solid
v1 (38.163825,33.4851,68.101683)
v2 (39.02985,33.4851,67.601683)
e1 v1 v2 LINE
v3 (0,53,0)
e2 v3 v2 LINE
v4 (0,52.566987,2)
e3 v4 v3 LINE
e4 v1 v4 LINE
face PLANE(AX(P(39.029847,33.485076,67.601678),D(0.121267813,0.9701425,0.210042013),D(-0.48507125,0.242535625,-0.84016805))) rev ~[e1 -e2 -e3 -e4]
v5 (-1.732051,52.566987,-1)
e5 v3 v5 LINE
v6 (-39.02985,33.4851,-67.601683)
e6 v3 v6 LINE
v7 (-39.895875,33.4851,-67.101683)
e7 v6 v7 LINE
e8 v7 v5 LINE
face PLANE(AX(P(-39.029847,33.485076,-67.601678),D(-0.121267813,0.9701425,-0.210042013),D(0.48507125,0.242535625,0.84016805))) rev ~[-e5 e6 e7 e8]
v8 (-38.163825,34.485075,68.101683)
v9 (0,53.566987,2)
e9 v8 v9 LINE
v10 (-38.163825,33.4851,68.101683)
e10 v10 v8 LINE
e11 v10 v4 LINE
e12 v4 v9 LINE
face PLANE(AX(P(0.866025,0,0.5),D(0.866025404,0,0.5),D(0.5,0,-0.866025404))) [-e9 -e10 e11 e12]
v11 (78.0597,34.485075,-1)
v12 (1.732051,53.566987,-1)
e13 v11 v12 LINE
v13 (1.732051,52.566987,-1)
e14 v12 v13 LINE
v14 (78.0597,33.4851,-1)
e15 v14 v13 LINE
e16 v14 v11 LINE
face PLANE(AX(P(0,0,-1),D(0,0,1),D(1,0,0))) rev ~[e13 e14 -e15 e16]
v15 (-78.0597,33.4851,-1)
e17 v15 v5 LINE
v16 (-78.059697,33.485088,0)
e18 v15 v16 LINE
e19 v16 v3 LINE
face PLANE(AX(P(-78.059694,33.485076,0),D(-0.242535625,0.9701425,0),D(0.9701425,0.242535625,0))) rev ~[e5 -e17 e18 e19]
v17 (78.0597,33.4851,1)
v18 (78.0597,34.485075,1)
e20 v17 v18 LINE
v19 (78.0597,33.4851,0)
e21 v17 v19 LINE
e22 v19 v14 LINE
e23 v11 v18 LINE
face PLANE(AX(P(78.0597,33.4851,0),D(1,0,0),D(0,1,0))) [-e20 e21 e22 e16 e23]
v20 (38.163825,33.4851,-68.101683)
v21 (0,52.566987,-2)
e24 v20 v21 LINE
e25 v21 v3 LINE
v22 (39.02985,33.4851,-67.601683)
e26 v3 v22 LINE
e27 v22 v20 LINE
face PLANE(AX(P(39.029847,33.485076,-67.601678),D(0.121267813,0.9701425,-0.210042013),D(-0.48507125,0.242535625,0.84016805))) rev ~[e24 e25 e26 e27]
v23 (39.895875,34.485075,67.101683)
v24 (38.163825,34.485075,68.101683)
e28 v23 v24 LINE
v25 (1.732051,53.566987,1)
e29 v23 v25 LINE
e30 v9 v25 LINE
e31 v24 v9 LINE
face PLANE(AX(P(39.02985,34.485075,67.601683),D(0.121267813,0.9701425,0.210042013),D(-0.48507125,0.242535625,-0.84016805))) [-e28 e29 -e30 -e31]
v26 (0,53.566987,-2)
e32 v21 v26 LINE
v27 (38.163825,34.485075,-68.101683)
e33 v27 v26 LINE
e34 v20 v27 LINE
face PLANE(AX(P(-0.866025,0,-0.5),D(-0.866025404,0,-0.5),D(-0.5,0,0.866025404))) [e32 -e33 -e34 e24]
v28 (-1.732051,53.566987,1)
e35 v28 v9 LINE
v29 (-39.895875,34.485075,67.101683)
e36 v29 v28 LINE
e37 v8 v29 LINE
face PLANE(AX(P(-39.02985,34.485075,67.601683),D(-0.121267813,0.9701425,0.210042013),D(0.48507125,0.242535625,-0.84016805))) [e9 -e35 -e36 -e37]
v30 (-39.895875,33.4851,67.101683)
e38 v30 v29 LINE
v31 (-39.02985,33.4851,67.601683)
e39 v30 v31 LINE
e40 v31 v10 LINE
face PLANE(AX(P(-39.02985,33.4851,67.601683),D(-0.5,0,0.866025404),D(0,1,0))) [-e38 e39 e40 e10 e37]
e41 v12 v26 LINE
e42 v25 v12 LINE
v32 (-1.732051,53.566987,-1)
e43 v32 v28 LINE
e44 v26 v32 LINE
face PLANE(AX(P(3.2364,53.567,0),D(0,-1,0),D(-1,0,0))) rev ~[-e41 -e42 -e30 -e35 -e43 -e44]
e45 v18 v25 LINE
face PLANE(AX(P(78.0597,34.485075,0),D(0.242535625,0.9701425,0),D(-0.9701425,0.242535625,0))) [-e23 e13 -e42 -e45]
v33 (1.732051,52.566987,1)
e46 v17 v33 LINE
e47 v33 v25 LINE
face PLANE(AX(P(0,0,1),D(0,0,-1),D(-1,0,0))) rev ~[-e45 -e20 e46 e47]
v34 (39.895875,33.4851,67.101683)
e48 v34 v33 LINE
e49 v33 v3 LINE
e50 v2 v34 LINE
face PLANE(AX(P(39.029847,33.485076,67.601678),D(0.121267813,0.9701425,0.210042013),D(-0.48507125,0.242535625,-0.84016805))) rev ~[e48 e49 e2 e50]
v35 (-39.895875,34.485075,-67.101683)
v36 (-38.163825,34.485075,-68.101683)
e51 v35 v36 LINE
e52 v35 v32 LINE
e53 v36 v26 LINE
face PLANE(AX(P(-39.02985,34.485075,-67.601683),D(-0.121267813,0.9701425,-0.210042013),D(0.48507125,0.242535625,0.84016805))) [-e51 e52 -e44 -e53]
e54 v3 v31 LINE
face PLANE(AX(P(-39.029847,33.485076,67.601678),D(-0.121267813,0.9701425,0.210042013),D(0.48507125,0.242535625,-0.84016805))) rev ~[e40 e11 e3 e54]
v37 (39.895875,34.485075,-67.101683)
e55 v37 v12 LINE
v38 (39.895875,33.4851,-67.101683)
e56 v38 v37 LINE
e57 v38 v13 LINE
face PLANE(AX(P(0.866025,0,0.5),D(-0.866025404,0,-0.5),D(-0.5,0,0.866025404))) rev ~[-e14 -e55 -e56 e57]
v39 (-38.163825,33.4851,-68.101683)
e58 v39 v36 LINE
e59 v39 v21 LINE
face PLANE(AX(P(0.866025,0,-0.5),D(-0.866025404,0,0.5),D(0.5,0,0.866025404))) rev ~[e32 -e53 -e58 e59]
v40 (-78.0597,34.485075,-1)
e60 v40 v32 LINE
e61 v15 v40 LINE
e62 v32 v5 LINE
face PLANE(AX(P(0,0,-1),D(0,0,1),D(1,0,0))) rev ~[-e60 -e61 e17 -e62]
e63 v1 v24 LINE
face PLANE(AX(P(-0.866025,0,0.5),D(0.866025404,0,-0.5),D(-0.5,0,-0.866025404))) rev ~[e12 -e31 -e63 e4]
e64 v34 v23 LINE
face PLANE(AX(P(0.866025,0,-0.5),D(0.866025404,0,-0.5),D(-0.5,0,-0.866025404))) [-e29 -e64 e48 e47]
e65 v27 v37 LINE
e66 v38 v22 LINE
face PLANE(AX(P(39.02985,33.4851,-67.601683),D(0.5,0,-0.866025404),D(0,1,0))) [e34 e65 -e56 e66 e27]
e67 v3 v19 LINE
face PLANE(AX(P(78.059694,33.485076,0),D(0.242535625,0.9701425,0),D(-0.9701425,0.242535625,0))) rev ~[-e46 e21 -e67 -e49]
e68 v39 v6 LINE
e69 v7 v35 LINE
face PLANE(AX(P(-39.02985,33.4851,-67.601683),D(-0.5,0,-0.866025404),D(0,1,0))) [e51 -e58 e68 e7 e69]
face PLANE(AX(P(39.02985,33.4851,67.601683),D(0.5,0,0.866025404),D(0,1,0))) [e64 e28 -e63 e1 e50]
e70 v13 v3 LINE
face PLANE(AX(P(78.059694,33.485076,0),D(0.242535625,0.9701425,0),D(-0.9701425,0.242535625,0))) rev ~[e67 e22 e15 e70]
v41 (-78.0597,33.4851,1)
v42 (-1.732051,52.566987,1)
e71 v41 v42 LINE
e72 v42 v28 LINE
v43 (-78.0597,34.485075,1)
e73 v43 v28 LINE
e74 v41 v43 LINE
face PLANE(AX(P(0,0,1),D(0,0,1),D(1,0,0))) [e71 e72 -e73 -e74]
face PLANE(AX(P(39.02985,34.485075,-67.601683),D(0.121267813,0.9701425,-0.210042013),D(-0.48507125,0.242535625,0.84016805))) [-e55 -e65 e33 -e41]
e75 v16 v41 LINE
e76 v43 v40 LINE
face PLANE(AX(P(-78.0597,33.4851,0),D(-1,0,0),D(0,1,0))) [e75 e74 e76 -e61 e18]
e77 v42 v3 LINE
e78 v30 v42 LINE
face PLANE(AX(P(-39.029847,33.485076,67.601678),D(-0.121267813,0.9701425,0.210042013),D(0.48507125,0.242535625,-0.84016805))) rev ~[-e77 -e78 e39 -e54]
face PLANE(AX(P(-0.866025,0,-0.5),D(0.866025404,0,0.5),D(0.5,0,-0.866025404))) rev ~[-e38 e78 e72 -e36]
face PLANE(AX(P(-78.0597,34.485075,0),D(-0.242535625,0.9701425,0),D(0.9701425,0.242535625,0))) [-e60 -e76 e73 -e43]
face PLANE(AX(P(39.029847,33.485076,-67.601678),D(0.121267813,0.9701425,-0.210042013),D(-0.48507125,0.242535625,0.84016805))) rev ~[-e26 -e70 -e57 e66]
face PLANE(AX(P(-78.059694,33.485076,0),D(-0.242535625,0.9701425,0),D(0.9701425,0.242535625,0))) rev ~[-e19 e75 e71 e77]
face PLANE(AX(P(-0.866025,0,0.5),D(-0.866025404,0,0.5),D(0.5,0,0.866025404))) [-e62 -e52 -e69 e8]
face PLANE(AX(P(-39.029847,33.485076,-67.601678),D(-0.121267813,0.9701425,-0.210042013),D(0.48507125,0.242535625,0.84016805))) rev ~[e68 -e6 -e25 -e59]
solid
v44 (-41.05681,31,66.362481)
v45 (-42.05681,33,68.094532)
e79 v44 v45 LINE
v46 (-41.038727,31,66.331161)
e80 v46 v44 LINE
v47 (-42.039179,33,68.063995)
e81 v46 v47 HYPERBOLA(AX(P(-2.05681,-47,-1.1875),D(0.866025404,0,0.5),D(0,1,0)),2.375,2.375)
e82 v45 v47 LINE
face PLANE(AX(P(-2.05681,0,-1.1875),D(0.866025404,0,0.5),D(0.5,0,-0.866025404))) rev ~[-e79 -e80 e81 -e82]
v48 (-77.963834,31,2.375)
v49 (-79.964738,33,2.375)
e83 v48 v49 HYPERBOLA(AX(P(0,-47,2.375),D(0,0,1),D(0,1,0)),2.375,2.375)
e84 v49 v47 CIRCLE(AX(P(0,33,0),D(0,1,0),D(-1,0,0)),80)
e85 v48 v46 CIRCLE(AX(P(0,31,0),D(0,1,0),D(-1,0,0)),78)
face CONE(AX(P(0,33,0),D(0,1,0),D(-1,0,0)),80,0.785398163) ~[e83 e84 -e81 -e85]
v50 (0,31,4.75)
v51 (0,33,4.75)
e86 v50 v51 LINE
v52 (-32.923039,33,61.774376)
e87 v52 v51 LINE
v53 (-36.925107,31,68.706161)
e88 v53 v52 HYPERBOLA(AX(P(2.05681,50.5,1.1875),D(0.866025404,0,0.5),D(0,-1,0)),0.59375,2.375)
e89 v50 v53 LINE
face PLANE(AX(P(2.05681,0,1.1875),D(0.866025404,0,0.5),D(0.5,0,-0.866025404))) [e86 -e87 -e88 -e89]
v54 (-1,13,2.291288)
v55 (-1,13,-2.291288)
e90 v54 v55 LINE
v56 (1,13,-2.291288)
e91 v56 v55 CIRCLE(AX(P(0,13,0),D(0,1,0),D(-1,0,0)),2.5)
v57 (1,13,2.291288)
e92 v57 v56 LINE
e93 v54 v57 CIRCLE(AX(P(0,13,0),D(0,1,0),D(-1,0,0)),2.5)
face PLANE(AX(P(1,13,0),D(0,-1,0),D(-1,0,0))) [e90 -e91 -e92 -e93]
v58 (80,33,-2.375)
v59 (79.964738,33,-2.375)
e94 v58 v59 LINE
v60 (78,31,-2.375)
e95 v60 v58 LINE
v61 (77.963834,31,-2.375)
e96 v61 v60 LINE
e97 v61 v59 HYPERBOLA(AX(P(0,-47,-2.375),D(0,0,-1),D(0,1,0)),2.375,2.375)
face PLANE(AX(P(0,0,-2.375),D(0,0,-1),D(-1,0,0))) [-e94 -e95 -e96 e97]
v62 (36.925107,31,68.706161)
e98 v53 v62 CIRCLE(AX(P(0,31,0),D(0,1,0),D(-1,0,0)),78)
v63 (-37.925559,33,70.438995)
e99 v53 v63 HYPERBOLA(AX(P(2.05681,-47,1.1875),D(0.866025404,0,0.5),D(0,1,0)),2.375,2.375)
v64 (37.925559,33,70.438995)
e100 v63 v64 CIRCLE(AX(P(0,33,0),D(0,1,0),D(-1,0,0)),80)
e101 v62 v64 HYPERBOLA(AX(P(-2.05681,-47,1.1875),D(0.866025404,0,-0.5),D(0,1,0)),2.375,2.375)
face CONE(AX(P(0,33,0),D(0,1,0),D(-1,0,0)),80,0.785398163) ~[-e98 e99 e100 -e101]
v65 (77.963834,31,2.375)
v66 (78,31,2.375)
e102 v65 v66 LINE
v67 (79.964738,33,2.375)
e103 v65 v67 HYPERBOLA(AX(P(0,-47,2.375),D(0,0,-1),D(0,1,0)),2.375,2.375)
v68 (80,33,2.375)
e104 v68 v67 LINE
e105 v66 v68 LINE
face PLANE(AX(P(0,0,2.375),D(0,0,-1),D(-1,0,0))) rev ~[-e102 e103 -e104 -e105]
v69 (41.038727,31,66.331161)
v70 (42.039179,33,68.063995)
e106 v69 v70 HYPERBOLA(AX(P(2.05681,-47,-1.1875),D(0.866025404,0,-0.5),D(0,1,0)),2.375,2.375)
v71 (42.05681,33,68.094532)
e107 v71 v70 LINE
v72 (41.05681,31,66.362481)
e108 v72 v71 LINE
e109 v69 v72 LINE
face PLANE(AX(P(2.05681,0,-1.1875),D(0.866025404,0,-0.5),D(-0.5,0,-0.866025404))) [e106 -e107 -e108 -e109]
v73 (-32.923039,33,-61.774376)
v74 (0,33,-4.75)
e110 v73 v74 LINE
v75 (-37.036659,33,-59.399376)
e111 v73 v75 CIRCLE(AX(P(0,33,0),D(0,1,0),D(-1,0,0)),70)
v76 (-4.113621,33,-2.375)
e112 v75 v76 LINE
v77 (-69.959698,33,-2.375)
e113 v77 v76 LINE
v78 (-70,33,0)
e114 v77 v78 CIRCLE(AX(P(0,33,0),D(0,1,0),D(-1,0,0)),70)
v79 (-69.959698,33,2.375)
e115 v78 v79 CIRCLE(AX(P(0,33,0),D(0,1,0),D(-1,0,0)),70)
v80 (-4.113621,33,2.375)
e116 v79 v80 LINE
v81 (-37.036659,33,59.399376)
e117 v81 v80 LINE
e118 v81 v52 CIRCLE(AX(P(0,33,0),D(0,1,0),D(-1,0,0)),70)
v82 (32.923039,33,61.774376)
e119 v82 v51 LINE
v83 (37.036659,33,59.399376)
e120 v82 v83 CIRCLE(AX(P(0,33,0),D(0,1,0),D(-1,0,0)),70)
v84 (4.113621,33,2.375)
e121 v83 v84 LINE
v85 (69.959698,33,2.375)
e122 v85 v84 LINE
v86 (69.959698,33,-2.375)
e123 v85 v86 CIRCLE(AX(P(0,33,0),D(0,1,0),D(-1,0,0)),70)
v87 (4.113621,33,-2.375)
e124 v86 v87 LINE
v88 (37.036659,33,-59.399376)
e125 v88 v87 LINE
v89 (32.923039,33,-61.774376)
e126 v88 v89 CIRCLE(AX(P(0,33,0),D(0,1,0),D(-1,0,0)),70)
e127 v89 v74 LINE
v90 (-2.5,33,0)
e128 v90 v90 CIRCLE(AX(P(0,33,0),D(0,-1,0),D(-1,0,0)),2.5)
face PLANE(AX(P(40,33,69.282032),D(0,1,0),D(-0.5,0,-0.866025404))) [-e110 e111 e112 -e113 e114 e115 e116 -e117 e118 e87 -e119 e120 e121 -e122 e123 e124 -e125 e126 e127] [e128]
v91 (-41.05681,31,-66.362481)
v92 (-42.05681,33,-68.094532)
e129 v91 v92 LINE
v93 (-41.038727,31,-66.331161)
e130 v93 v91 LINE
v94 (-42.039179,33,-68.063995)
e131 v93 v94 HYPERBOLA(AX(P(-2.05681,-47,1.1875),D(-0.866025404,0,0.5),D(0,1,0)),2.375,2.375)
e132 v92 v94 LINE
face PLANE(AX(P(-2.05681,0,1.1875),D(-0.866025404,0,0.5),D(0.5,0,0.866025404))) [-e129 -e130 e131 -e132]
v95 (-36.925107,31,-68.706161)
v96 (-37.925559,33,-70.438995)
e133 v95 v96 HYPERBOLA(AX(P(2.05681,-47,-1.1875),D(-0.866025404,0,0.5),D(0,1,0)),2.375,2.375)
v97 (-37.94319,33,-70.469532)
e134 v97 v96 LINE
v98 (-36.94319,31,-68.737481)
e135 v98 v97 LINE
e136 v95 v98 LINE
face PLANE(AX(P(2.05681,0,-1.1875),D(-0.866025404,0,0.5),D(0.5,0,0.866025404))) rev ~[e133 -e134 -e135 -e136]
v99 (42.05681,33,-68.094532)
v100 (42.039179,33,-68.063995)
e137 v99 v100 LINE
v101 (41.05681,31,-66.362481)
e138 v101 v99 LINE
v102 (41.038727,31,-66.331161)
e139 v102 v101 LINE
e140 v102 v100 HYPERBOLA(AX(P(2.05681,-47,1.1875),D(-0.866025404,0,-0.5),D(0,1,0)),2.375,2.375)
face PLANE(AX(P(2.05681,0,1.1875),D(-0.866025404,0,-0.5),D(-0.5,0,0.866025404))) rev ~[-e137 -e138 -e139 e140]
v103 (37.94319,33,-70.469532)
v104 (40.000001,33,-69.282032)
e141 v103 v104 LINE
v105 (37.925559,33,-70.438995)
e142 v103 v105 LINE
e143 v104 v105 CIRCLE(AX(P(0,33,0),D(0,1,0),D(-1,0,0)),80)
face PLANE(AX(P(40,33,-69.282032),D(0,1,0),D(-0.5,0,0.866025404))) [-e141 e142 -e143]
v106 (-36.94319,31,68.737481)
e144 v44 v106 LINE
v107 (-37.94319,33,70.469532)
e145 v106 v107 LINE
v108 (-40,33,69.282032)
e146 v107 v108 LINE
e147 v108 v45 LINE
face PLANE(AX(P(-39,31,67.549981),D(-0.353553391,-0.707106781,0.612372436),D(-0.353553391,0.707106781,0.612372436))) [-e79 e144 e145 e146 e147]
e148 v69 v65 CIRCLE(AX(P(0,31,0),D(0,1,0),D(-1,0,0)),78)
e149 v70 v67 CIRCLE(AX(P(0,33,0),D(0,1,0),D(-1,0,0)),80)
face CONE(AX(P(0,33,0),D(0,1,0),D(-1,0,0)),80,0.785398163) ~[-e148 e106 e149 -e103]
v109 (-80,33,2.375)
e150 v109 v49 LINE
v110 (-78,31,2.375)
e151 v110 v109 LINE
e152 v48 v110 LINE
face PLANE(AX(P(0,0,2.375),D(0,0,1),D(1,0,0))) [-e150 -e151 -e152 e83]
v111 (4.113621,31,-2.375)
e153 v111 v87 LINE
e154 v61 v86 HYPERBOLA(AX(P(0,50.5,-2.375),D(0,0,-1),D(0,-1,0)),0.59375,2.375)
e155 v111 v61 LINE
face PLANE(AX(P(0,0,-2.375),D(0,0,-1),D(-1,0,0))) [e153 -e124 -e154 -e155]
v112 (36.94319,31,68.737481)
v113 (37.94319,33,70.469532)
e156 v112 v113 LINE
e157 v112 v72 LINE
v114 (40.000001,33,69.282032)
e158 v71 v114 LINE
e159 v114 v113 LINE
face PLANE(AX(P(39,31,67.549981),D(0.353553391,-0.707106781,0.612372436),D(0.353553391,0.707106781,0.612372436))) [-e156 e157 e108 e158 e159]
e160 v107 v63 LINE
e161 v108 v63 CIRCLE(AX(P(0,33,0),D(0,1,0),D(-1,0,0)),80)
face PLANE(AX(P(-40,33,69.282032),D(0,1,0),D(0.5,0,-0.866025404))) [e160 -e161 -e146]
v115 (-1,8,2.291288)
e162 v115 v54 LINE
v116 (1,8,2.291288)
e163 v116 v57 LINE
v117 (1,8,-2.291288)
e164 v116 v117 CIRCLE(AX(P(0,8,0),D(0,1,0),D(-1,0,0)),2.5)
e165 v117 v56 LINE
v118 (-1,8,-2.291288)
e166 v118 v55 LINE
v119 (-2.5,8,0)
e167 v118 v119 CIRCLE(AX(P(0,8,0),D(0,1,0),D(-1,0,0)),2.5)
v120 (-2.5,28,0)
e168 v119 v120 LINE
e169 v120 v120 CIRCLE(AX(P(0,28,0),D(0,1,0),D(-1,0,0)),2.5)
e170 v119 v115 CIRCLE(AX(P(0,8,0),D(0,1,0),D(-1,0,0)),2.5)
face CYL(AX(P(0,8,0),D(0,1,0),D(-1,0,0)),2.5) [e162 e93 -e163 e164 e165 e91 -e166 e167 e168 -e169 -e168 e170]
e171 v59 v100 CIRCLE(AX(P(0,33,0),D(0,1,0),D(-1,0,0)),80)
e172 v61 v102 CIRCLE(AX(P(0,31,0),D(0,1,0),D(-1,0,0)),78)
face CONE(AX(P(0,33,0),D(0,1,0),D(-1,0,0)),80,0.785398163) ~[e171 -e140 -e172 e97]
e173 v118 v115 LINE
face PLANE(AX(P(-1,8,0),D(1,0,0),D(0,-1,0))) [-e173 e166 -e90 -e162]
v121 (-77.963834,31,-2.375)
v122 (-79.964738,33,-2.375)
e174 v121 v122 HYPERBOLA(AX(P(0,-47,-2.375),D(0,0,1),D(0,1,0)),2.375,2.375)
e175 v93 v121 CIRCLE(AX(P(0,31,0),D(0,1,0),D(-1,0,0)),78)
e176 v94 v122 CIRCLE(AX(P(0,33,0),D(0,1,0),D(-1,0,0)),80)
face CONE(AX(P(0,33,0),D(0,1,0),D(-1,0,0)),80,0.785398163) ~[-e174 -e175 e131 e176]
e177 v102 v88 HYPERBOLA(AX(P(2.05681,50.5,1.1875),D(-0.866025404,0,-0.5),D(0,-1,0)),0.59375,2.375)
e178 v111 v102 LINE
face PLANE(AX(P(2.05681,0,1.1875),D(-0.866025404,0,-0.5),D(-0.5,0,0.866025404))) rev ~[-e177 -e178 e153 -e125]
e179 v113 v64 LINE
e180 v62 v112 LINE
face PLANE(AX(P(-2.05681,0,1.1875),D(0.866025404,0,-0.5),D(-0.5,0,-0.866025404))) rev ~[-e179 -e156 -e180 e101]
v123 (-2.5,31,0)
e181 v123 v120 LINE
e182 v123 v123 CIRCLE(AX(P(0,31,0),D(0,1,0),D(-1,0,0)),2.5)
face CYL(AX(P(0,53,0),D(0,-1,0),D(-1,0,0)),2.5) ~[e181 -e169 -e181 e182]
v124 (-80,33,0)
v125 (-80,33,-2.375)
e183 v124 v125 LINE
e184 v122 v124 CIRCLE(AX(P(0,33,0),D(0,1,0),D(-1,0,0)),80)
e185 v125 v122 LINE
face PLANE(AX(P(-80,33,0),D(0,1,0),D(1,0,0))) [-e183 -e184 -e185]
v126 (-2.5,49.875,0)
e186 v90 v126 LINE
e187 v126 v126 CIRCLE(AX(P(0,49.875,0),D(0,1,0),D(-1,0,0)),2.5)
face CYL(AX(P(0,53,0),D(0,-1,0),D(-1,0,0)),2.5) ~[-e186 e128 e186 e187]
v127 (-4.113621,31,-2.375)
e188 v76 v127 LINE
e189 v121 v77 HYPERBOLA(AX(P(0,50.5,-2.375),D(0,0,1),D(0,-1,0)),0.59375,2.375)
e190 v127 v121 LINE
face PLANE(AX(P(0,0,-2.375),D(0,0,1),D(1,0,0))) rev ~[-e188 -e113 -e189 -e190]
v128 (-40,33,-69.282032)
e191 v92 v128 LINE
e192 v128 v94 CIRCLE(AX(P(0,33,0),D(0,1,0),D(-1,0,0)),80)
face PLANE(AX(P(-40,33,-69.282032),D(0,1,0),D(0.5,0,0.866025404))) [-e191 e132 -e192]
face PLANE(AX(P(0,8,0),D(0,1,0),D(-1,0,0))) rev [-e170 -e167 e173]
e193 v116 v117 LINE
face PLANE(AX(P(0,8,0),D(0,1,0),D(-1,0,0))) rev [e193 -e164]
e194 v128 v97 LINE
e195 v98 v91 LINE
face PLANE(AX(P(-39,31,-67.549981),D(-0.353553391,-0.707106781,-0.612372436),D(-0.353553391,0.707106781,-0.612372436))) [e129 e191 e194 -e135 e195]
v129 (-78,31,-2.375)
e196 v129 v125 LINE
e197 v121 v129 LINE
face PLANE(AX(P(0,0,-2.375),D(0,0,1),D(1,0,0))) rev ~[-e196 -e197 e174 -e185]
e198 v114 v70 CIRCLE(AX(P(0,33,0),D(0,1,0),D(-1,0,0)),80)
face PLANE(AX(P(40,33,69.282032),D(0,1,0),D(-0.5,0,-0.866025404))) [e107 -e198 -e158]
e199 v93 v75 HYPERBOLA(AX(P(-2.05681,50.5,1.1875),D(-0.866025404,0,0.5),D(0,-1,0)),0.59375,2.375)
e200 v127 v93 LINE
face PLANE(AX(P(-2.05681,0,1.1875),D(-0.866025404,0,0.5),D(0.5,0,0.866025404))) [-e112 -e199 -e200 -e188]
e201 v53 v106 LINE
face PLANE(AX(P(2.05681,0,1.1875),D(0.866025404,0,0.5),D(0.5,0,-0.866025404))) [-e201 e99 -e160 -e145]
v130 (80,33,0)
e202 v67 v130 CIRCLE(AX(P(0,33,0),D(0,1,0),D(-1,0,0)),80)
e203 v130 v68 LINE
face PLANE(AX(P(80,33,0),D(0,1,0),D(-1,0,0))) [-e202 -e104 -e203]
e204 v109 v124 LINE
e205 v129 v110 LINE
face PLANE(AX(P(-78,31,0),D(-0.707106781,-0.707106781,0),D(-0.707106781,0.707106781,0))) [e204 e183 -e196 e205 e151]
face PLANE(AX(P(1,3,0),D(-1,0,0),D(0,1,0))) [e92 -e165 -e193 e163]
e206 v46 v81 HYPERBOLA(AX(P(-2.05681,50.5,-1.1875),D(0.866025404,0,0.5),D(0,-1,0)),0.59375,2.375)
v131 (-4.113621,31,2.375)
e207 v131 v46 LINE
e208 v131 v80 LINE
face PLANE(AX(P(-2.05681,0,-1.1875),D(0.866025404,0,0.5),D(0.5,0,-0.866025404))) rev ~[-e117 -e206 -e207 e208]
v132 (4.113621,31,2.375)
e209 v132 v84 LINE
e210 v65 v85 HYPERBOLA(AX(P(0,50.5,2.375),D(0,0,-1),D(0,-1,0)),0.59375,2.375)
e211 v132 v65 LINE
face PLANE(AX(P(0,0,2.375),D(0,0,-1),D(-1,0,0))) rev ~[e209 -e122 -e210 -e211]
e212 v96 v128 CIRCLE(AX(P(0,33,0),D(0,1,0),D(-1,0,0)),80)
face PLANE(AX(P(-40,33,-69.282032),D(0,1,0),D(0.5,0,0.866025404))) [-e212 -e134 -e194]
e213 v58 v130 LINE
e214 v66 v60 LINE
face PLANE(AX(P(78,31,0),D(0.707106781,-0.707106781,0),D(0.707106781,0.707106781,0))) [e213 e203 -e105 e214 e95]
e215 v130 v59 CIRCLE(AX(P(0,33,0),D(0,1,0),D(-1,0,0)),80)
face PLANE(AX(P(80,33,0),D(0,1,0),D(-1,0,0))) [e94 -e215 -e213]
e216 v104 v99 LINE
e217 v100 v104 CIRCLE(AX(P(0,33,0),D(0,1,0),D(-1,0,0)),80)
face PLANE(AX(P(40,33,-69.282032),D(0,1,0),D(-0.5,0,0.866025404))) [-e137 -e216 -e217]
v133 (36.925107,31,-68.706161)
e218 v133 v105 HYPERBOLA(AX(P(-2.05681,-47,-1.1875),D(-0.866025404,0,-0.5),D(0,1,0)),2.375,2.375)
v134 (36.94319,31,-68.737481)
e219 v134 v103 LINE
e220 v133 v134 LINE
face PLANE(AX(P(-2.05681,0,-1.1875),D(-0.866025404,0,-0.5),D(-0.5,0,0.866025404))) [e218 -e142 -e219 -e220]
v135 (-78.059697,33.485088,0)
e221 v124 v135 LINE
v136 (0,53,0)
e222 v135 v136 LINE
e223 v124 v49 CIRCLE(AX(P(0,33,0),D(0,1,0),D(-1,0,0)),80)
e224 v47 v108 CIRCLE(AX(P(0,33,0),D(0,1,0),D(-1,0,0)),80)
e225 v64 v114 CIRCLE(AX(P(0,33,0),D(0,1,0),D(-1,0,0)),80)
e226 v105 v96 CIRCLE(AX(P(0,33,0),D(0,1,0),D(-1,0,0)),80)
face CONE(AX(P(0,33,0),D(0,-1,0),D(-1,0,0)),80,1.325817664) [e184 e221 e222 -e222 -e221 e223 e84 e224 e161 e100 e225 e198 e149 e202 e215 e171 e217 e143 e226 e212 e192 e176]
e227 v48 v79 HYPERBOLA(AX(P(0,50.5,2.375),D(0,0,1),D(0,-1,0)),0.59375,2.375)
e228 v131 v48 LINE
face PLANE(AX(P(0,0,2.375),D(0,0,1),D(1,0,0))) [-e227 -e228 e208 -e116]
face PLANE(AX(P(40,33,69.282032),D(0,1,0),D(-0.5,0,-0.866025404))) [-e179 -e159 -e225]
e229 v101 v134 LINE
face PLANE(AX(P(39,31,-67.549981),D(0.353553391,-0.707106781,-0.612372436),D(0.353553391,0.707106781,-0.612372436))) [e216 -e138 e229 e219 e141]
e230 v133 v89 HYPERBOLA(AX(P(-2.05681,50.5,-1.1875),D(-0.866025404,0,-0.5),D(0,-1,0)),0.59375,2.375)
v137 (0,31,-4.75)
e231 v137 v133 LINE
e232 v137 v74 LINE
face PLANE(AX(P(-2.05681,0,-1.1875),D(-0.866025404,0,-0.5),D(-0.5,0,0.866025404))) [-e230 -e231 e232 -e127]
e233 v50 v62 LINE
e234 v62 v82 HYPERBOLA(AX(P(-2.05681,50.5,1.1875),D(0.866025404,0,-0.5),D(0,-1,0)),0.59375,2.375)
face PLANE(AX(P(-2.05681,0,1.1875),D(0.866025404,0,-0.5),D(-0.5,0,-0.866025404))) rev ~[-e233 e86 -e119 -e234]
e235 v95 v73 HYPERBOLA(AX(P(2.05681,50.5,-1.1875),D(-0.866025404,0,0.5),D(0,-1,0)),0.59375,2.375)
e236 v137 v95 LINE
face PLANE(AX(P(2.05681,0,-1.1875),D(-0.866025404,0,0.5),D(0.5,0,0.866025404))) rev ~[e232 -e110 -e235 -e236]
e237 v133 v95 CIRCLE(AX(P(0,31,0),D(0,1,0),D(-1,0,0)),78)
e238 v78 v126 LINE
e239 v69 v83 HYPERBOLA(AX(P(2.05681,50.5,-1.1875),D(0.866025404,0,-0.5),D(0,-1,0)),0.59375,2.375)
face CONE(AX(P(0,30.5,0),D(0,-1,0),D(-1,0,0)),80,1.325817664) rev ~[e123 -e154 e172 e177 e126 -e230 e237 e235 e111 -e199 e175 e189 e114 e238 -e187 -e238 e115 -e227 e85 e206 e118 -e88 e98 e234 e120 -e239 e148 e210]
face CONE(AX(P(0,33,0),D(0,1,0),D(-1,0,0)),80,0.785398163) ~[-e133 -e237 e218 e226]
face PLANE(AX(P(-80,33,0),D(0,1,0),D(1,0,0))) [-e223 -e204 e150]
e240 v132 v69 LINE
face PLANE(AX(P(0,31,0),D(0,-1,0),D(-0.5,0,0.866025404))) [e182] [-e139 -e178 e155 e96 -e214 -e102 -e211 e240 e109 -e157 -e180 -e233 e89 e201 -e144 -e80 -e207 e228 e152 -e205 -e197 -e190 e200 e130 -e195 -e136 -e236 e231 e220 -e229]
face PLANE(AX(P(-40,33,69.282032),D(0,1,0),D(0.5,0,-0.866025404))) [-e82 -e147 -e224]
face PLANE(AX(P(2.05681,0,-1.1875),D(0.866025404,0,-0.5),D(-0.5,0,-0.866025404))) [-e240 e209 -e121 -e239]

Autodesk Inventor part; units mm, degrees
ref_plane "YZ Plane" through (0, 0, 0) normal (1, 0, 0) x (0, 1, 0)
ref_plane "XZ Plane" through (0, 0, 0) normal (0, 1, 0) x (-1, 0, 0)
ref_plane "XY Plane" through (0, 0, 0) normal (0, 0, 1) x (1, 0, 0)
sketch "Sketch1" plane through (0, 0, 0) normal (0, 0, 1) x (1, 0, 0)
  line L0 (-80, 33) -> (0, 53)
  line L1 (-80, 33) -> (-80, 28)
  line L2 (0, 53) -> (0, 48)
  line L3 (0, 48) -> (-80, 28)
  line L4 (0, 53) -> (0, 48)
  line L5 (0, -10.6) -> (0, 63.6) projected
  line L6 (0, 53) -> (-2.5, 53)
  line L7 (-2.5, 53) -> (-2.5, 28)
  line L8 (-2.5, 28) -> (0, 28)
  line L9 (0, 28) -> (0, 53)
  line L10 (-80, 30.5) -> (0, 50.5)
  line L11 (-2.5, 28) -> (0, 28)
  line L12 (0, 28) -> (0, 8)
  line L13 (0, 8) -> (-2.5, 8)
  line L14 (-2.5, 8) -> (-2.5, 28)
  line L15 (-80, 30.5) -> (-78, 28.5)
  line L16 (-80, 30.5) -> (-77.1716, 30.5) construction
  line L17 (-80, 33) -> (-78, 31)
  line L18 (-80, 33) -> (-77.1716, 33) construction
  point P0 (0, 0)
  point P1 (-2.5, 47.375)
  point P2 (-2.5, 49.875)
  dimension "d2" = 5
  dimension "d3" = 5
  dimension "d5" = 2.5
  dimension "d11" = 20
  dimension "d24" = 45
  dimension "d25" = 45
revolve "Revolution1" add sketch "Sketch1" angle 360 about axis through (0, -10, 0) along (0, 1, 0) contours L0 L7 L10 L17 | L0 L2 L10 L7 | L10 L2 L3 L7 | L3 L5 L8 L7 | L8 L5 L13 L14
sketch "Sketch3" plane through (0, 0, 0) normal (0, 0, 1) x (1, 0, 0)
  line L0 (-1, 3) -> (1, 3)
  line L1 (1, 3) -> (1, 13)
  line L2 (1, 13) -> (-1, 13)
  line L3 (-1, 13) -> (-1, 3)
  line L4 (2.5, 8) -> (-2.5, 8) projected
  line L5 (-1, 3) -> (1, 13) construction
  line L6 (1, 3) -> (-1, 13) construction
  point P0 (0, 0)
  point P1 (0, 8)
extrude "Extrusion2" cut sketch "Sketch3" along normal mid plane 16.75
sketch "Sketch4" plane through (0, 0, 0) normal (0, 0, 1) x (1, 0, 0)
  line L0 (-80, 33) -> (0, 53) projected
  line L1 (0, 53) -> (-80, 33)
  line L2 (0, 53) -> (0, 55)
  line L3 (0, 55) -> (-80, 35)
  line L4 (-80, 35) -> (-80, 33)
  line L5 (-80, 33) -> (-78.0597, 33.4851)
  line L6 (-78.0597, 33.4851) -> (-78.0597, 35.4851)
  line L7 (-80, 34) -> (0, 54)
  point P0 (0, 0)
  point P1 (-78.0597, 34.4851)
  dimension "d14" = 2
  dimension "d15" = 2
extrude "Extrusion3" add sketch "Sketch4" along normal mid plane 2 contours L6 L7 L2 L0
pattern_circular "Circular Pattern2" count 6 over 360 about axis through (0, -10, 0) along (0, 1, 0) of "Extrusion3"
sketch "Sketch5" plane through (0, 0, 0) normal (0, 0, 1) x (1, 0, 0)
  line L0 (-3.2364, 54.433) -> (3.2364, 54.433)
  line L1 (3.2364, 54.433) -> (3.2364, 53.567)
  line L2 (3.2364, 53.567) -> (-3.2364, 53.567)
  line L3 (-3.2364, 53.567) -> (-3.2364, 54.433)
  line L4 (0, 54) -> (0.5774, 53.8557) projected
  line L5 (-3.2364, 54.433) -> (3.2364, 53.567) construction
  line L6 (3.2364, 54.433) -> (-3.2364, 53.567) construction
  point P0 (0, 0)
extrude "Extrusion4" cut sketch "Sketch5" along normal mid plane 4.75
sketch "Sketch6" plane through (0, 0, 0) normal (0, 0, 1) x (1, 0, 0)
  line L0 (-78, 31) -> (-80, 33) projected
  line L1 (-80, 33) -> (0, 33)
  line L2 (78, 31) -> (-78, 31) projected
  line L3 (0, 33) -> (0, 31)
  line L4 (-78, 31) -> (0, 31)
  point P0 (0, 0)
extrude "Extrusion5" add sketch "Sketch6" along normal mid plane 4.75
pattern_circular "Circular Pattern3" count 6 over 360 about axis through (0, -10, 0) along (0, 1, 0) of "Extrusion5"
properties part number "central disk"
